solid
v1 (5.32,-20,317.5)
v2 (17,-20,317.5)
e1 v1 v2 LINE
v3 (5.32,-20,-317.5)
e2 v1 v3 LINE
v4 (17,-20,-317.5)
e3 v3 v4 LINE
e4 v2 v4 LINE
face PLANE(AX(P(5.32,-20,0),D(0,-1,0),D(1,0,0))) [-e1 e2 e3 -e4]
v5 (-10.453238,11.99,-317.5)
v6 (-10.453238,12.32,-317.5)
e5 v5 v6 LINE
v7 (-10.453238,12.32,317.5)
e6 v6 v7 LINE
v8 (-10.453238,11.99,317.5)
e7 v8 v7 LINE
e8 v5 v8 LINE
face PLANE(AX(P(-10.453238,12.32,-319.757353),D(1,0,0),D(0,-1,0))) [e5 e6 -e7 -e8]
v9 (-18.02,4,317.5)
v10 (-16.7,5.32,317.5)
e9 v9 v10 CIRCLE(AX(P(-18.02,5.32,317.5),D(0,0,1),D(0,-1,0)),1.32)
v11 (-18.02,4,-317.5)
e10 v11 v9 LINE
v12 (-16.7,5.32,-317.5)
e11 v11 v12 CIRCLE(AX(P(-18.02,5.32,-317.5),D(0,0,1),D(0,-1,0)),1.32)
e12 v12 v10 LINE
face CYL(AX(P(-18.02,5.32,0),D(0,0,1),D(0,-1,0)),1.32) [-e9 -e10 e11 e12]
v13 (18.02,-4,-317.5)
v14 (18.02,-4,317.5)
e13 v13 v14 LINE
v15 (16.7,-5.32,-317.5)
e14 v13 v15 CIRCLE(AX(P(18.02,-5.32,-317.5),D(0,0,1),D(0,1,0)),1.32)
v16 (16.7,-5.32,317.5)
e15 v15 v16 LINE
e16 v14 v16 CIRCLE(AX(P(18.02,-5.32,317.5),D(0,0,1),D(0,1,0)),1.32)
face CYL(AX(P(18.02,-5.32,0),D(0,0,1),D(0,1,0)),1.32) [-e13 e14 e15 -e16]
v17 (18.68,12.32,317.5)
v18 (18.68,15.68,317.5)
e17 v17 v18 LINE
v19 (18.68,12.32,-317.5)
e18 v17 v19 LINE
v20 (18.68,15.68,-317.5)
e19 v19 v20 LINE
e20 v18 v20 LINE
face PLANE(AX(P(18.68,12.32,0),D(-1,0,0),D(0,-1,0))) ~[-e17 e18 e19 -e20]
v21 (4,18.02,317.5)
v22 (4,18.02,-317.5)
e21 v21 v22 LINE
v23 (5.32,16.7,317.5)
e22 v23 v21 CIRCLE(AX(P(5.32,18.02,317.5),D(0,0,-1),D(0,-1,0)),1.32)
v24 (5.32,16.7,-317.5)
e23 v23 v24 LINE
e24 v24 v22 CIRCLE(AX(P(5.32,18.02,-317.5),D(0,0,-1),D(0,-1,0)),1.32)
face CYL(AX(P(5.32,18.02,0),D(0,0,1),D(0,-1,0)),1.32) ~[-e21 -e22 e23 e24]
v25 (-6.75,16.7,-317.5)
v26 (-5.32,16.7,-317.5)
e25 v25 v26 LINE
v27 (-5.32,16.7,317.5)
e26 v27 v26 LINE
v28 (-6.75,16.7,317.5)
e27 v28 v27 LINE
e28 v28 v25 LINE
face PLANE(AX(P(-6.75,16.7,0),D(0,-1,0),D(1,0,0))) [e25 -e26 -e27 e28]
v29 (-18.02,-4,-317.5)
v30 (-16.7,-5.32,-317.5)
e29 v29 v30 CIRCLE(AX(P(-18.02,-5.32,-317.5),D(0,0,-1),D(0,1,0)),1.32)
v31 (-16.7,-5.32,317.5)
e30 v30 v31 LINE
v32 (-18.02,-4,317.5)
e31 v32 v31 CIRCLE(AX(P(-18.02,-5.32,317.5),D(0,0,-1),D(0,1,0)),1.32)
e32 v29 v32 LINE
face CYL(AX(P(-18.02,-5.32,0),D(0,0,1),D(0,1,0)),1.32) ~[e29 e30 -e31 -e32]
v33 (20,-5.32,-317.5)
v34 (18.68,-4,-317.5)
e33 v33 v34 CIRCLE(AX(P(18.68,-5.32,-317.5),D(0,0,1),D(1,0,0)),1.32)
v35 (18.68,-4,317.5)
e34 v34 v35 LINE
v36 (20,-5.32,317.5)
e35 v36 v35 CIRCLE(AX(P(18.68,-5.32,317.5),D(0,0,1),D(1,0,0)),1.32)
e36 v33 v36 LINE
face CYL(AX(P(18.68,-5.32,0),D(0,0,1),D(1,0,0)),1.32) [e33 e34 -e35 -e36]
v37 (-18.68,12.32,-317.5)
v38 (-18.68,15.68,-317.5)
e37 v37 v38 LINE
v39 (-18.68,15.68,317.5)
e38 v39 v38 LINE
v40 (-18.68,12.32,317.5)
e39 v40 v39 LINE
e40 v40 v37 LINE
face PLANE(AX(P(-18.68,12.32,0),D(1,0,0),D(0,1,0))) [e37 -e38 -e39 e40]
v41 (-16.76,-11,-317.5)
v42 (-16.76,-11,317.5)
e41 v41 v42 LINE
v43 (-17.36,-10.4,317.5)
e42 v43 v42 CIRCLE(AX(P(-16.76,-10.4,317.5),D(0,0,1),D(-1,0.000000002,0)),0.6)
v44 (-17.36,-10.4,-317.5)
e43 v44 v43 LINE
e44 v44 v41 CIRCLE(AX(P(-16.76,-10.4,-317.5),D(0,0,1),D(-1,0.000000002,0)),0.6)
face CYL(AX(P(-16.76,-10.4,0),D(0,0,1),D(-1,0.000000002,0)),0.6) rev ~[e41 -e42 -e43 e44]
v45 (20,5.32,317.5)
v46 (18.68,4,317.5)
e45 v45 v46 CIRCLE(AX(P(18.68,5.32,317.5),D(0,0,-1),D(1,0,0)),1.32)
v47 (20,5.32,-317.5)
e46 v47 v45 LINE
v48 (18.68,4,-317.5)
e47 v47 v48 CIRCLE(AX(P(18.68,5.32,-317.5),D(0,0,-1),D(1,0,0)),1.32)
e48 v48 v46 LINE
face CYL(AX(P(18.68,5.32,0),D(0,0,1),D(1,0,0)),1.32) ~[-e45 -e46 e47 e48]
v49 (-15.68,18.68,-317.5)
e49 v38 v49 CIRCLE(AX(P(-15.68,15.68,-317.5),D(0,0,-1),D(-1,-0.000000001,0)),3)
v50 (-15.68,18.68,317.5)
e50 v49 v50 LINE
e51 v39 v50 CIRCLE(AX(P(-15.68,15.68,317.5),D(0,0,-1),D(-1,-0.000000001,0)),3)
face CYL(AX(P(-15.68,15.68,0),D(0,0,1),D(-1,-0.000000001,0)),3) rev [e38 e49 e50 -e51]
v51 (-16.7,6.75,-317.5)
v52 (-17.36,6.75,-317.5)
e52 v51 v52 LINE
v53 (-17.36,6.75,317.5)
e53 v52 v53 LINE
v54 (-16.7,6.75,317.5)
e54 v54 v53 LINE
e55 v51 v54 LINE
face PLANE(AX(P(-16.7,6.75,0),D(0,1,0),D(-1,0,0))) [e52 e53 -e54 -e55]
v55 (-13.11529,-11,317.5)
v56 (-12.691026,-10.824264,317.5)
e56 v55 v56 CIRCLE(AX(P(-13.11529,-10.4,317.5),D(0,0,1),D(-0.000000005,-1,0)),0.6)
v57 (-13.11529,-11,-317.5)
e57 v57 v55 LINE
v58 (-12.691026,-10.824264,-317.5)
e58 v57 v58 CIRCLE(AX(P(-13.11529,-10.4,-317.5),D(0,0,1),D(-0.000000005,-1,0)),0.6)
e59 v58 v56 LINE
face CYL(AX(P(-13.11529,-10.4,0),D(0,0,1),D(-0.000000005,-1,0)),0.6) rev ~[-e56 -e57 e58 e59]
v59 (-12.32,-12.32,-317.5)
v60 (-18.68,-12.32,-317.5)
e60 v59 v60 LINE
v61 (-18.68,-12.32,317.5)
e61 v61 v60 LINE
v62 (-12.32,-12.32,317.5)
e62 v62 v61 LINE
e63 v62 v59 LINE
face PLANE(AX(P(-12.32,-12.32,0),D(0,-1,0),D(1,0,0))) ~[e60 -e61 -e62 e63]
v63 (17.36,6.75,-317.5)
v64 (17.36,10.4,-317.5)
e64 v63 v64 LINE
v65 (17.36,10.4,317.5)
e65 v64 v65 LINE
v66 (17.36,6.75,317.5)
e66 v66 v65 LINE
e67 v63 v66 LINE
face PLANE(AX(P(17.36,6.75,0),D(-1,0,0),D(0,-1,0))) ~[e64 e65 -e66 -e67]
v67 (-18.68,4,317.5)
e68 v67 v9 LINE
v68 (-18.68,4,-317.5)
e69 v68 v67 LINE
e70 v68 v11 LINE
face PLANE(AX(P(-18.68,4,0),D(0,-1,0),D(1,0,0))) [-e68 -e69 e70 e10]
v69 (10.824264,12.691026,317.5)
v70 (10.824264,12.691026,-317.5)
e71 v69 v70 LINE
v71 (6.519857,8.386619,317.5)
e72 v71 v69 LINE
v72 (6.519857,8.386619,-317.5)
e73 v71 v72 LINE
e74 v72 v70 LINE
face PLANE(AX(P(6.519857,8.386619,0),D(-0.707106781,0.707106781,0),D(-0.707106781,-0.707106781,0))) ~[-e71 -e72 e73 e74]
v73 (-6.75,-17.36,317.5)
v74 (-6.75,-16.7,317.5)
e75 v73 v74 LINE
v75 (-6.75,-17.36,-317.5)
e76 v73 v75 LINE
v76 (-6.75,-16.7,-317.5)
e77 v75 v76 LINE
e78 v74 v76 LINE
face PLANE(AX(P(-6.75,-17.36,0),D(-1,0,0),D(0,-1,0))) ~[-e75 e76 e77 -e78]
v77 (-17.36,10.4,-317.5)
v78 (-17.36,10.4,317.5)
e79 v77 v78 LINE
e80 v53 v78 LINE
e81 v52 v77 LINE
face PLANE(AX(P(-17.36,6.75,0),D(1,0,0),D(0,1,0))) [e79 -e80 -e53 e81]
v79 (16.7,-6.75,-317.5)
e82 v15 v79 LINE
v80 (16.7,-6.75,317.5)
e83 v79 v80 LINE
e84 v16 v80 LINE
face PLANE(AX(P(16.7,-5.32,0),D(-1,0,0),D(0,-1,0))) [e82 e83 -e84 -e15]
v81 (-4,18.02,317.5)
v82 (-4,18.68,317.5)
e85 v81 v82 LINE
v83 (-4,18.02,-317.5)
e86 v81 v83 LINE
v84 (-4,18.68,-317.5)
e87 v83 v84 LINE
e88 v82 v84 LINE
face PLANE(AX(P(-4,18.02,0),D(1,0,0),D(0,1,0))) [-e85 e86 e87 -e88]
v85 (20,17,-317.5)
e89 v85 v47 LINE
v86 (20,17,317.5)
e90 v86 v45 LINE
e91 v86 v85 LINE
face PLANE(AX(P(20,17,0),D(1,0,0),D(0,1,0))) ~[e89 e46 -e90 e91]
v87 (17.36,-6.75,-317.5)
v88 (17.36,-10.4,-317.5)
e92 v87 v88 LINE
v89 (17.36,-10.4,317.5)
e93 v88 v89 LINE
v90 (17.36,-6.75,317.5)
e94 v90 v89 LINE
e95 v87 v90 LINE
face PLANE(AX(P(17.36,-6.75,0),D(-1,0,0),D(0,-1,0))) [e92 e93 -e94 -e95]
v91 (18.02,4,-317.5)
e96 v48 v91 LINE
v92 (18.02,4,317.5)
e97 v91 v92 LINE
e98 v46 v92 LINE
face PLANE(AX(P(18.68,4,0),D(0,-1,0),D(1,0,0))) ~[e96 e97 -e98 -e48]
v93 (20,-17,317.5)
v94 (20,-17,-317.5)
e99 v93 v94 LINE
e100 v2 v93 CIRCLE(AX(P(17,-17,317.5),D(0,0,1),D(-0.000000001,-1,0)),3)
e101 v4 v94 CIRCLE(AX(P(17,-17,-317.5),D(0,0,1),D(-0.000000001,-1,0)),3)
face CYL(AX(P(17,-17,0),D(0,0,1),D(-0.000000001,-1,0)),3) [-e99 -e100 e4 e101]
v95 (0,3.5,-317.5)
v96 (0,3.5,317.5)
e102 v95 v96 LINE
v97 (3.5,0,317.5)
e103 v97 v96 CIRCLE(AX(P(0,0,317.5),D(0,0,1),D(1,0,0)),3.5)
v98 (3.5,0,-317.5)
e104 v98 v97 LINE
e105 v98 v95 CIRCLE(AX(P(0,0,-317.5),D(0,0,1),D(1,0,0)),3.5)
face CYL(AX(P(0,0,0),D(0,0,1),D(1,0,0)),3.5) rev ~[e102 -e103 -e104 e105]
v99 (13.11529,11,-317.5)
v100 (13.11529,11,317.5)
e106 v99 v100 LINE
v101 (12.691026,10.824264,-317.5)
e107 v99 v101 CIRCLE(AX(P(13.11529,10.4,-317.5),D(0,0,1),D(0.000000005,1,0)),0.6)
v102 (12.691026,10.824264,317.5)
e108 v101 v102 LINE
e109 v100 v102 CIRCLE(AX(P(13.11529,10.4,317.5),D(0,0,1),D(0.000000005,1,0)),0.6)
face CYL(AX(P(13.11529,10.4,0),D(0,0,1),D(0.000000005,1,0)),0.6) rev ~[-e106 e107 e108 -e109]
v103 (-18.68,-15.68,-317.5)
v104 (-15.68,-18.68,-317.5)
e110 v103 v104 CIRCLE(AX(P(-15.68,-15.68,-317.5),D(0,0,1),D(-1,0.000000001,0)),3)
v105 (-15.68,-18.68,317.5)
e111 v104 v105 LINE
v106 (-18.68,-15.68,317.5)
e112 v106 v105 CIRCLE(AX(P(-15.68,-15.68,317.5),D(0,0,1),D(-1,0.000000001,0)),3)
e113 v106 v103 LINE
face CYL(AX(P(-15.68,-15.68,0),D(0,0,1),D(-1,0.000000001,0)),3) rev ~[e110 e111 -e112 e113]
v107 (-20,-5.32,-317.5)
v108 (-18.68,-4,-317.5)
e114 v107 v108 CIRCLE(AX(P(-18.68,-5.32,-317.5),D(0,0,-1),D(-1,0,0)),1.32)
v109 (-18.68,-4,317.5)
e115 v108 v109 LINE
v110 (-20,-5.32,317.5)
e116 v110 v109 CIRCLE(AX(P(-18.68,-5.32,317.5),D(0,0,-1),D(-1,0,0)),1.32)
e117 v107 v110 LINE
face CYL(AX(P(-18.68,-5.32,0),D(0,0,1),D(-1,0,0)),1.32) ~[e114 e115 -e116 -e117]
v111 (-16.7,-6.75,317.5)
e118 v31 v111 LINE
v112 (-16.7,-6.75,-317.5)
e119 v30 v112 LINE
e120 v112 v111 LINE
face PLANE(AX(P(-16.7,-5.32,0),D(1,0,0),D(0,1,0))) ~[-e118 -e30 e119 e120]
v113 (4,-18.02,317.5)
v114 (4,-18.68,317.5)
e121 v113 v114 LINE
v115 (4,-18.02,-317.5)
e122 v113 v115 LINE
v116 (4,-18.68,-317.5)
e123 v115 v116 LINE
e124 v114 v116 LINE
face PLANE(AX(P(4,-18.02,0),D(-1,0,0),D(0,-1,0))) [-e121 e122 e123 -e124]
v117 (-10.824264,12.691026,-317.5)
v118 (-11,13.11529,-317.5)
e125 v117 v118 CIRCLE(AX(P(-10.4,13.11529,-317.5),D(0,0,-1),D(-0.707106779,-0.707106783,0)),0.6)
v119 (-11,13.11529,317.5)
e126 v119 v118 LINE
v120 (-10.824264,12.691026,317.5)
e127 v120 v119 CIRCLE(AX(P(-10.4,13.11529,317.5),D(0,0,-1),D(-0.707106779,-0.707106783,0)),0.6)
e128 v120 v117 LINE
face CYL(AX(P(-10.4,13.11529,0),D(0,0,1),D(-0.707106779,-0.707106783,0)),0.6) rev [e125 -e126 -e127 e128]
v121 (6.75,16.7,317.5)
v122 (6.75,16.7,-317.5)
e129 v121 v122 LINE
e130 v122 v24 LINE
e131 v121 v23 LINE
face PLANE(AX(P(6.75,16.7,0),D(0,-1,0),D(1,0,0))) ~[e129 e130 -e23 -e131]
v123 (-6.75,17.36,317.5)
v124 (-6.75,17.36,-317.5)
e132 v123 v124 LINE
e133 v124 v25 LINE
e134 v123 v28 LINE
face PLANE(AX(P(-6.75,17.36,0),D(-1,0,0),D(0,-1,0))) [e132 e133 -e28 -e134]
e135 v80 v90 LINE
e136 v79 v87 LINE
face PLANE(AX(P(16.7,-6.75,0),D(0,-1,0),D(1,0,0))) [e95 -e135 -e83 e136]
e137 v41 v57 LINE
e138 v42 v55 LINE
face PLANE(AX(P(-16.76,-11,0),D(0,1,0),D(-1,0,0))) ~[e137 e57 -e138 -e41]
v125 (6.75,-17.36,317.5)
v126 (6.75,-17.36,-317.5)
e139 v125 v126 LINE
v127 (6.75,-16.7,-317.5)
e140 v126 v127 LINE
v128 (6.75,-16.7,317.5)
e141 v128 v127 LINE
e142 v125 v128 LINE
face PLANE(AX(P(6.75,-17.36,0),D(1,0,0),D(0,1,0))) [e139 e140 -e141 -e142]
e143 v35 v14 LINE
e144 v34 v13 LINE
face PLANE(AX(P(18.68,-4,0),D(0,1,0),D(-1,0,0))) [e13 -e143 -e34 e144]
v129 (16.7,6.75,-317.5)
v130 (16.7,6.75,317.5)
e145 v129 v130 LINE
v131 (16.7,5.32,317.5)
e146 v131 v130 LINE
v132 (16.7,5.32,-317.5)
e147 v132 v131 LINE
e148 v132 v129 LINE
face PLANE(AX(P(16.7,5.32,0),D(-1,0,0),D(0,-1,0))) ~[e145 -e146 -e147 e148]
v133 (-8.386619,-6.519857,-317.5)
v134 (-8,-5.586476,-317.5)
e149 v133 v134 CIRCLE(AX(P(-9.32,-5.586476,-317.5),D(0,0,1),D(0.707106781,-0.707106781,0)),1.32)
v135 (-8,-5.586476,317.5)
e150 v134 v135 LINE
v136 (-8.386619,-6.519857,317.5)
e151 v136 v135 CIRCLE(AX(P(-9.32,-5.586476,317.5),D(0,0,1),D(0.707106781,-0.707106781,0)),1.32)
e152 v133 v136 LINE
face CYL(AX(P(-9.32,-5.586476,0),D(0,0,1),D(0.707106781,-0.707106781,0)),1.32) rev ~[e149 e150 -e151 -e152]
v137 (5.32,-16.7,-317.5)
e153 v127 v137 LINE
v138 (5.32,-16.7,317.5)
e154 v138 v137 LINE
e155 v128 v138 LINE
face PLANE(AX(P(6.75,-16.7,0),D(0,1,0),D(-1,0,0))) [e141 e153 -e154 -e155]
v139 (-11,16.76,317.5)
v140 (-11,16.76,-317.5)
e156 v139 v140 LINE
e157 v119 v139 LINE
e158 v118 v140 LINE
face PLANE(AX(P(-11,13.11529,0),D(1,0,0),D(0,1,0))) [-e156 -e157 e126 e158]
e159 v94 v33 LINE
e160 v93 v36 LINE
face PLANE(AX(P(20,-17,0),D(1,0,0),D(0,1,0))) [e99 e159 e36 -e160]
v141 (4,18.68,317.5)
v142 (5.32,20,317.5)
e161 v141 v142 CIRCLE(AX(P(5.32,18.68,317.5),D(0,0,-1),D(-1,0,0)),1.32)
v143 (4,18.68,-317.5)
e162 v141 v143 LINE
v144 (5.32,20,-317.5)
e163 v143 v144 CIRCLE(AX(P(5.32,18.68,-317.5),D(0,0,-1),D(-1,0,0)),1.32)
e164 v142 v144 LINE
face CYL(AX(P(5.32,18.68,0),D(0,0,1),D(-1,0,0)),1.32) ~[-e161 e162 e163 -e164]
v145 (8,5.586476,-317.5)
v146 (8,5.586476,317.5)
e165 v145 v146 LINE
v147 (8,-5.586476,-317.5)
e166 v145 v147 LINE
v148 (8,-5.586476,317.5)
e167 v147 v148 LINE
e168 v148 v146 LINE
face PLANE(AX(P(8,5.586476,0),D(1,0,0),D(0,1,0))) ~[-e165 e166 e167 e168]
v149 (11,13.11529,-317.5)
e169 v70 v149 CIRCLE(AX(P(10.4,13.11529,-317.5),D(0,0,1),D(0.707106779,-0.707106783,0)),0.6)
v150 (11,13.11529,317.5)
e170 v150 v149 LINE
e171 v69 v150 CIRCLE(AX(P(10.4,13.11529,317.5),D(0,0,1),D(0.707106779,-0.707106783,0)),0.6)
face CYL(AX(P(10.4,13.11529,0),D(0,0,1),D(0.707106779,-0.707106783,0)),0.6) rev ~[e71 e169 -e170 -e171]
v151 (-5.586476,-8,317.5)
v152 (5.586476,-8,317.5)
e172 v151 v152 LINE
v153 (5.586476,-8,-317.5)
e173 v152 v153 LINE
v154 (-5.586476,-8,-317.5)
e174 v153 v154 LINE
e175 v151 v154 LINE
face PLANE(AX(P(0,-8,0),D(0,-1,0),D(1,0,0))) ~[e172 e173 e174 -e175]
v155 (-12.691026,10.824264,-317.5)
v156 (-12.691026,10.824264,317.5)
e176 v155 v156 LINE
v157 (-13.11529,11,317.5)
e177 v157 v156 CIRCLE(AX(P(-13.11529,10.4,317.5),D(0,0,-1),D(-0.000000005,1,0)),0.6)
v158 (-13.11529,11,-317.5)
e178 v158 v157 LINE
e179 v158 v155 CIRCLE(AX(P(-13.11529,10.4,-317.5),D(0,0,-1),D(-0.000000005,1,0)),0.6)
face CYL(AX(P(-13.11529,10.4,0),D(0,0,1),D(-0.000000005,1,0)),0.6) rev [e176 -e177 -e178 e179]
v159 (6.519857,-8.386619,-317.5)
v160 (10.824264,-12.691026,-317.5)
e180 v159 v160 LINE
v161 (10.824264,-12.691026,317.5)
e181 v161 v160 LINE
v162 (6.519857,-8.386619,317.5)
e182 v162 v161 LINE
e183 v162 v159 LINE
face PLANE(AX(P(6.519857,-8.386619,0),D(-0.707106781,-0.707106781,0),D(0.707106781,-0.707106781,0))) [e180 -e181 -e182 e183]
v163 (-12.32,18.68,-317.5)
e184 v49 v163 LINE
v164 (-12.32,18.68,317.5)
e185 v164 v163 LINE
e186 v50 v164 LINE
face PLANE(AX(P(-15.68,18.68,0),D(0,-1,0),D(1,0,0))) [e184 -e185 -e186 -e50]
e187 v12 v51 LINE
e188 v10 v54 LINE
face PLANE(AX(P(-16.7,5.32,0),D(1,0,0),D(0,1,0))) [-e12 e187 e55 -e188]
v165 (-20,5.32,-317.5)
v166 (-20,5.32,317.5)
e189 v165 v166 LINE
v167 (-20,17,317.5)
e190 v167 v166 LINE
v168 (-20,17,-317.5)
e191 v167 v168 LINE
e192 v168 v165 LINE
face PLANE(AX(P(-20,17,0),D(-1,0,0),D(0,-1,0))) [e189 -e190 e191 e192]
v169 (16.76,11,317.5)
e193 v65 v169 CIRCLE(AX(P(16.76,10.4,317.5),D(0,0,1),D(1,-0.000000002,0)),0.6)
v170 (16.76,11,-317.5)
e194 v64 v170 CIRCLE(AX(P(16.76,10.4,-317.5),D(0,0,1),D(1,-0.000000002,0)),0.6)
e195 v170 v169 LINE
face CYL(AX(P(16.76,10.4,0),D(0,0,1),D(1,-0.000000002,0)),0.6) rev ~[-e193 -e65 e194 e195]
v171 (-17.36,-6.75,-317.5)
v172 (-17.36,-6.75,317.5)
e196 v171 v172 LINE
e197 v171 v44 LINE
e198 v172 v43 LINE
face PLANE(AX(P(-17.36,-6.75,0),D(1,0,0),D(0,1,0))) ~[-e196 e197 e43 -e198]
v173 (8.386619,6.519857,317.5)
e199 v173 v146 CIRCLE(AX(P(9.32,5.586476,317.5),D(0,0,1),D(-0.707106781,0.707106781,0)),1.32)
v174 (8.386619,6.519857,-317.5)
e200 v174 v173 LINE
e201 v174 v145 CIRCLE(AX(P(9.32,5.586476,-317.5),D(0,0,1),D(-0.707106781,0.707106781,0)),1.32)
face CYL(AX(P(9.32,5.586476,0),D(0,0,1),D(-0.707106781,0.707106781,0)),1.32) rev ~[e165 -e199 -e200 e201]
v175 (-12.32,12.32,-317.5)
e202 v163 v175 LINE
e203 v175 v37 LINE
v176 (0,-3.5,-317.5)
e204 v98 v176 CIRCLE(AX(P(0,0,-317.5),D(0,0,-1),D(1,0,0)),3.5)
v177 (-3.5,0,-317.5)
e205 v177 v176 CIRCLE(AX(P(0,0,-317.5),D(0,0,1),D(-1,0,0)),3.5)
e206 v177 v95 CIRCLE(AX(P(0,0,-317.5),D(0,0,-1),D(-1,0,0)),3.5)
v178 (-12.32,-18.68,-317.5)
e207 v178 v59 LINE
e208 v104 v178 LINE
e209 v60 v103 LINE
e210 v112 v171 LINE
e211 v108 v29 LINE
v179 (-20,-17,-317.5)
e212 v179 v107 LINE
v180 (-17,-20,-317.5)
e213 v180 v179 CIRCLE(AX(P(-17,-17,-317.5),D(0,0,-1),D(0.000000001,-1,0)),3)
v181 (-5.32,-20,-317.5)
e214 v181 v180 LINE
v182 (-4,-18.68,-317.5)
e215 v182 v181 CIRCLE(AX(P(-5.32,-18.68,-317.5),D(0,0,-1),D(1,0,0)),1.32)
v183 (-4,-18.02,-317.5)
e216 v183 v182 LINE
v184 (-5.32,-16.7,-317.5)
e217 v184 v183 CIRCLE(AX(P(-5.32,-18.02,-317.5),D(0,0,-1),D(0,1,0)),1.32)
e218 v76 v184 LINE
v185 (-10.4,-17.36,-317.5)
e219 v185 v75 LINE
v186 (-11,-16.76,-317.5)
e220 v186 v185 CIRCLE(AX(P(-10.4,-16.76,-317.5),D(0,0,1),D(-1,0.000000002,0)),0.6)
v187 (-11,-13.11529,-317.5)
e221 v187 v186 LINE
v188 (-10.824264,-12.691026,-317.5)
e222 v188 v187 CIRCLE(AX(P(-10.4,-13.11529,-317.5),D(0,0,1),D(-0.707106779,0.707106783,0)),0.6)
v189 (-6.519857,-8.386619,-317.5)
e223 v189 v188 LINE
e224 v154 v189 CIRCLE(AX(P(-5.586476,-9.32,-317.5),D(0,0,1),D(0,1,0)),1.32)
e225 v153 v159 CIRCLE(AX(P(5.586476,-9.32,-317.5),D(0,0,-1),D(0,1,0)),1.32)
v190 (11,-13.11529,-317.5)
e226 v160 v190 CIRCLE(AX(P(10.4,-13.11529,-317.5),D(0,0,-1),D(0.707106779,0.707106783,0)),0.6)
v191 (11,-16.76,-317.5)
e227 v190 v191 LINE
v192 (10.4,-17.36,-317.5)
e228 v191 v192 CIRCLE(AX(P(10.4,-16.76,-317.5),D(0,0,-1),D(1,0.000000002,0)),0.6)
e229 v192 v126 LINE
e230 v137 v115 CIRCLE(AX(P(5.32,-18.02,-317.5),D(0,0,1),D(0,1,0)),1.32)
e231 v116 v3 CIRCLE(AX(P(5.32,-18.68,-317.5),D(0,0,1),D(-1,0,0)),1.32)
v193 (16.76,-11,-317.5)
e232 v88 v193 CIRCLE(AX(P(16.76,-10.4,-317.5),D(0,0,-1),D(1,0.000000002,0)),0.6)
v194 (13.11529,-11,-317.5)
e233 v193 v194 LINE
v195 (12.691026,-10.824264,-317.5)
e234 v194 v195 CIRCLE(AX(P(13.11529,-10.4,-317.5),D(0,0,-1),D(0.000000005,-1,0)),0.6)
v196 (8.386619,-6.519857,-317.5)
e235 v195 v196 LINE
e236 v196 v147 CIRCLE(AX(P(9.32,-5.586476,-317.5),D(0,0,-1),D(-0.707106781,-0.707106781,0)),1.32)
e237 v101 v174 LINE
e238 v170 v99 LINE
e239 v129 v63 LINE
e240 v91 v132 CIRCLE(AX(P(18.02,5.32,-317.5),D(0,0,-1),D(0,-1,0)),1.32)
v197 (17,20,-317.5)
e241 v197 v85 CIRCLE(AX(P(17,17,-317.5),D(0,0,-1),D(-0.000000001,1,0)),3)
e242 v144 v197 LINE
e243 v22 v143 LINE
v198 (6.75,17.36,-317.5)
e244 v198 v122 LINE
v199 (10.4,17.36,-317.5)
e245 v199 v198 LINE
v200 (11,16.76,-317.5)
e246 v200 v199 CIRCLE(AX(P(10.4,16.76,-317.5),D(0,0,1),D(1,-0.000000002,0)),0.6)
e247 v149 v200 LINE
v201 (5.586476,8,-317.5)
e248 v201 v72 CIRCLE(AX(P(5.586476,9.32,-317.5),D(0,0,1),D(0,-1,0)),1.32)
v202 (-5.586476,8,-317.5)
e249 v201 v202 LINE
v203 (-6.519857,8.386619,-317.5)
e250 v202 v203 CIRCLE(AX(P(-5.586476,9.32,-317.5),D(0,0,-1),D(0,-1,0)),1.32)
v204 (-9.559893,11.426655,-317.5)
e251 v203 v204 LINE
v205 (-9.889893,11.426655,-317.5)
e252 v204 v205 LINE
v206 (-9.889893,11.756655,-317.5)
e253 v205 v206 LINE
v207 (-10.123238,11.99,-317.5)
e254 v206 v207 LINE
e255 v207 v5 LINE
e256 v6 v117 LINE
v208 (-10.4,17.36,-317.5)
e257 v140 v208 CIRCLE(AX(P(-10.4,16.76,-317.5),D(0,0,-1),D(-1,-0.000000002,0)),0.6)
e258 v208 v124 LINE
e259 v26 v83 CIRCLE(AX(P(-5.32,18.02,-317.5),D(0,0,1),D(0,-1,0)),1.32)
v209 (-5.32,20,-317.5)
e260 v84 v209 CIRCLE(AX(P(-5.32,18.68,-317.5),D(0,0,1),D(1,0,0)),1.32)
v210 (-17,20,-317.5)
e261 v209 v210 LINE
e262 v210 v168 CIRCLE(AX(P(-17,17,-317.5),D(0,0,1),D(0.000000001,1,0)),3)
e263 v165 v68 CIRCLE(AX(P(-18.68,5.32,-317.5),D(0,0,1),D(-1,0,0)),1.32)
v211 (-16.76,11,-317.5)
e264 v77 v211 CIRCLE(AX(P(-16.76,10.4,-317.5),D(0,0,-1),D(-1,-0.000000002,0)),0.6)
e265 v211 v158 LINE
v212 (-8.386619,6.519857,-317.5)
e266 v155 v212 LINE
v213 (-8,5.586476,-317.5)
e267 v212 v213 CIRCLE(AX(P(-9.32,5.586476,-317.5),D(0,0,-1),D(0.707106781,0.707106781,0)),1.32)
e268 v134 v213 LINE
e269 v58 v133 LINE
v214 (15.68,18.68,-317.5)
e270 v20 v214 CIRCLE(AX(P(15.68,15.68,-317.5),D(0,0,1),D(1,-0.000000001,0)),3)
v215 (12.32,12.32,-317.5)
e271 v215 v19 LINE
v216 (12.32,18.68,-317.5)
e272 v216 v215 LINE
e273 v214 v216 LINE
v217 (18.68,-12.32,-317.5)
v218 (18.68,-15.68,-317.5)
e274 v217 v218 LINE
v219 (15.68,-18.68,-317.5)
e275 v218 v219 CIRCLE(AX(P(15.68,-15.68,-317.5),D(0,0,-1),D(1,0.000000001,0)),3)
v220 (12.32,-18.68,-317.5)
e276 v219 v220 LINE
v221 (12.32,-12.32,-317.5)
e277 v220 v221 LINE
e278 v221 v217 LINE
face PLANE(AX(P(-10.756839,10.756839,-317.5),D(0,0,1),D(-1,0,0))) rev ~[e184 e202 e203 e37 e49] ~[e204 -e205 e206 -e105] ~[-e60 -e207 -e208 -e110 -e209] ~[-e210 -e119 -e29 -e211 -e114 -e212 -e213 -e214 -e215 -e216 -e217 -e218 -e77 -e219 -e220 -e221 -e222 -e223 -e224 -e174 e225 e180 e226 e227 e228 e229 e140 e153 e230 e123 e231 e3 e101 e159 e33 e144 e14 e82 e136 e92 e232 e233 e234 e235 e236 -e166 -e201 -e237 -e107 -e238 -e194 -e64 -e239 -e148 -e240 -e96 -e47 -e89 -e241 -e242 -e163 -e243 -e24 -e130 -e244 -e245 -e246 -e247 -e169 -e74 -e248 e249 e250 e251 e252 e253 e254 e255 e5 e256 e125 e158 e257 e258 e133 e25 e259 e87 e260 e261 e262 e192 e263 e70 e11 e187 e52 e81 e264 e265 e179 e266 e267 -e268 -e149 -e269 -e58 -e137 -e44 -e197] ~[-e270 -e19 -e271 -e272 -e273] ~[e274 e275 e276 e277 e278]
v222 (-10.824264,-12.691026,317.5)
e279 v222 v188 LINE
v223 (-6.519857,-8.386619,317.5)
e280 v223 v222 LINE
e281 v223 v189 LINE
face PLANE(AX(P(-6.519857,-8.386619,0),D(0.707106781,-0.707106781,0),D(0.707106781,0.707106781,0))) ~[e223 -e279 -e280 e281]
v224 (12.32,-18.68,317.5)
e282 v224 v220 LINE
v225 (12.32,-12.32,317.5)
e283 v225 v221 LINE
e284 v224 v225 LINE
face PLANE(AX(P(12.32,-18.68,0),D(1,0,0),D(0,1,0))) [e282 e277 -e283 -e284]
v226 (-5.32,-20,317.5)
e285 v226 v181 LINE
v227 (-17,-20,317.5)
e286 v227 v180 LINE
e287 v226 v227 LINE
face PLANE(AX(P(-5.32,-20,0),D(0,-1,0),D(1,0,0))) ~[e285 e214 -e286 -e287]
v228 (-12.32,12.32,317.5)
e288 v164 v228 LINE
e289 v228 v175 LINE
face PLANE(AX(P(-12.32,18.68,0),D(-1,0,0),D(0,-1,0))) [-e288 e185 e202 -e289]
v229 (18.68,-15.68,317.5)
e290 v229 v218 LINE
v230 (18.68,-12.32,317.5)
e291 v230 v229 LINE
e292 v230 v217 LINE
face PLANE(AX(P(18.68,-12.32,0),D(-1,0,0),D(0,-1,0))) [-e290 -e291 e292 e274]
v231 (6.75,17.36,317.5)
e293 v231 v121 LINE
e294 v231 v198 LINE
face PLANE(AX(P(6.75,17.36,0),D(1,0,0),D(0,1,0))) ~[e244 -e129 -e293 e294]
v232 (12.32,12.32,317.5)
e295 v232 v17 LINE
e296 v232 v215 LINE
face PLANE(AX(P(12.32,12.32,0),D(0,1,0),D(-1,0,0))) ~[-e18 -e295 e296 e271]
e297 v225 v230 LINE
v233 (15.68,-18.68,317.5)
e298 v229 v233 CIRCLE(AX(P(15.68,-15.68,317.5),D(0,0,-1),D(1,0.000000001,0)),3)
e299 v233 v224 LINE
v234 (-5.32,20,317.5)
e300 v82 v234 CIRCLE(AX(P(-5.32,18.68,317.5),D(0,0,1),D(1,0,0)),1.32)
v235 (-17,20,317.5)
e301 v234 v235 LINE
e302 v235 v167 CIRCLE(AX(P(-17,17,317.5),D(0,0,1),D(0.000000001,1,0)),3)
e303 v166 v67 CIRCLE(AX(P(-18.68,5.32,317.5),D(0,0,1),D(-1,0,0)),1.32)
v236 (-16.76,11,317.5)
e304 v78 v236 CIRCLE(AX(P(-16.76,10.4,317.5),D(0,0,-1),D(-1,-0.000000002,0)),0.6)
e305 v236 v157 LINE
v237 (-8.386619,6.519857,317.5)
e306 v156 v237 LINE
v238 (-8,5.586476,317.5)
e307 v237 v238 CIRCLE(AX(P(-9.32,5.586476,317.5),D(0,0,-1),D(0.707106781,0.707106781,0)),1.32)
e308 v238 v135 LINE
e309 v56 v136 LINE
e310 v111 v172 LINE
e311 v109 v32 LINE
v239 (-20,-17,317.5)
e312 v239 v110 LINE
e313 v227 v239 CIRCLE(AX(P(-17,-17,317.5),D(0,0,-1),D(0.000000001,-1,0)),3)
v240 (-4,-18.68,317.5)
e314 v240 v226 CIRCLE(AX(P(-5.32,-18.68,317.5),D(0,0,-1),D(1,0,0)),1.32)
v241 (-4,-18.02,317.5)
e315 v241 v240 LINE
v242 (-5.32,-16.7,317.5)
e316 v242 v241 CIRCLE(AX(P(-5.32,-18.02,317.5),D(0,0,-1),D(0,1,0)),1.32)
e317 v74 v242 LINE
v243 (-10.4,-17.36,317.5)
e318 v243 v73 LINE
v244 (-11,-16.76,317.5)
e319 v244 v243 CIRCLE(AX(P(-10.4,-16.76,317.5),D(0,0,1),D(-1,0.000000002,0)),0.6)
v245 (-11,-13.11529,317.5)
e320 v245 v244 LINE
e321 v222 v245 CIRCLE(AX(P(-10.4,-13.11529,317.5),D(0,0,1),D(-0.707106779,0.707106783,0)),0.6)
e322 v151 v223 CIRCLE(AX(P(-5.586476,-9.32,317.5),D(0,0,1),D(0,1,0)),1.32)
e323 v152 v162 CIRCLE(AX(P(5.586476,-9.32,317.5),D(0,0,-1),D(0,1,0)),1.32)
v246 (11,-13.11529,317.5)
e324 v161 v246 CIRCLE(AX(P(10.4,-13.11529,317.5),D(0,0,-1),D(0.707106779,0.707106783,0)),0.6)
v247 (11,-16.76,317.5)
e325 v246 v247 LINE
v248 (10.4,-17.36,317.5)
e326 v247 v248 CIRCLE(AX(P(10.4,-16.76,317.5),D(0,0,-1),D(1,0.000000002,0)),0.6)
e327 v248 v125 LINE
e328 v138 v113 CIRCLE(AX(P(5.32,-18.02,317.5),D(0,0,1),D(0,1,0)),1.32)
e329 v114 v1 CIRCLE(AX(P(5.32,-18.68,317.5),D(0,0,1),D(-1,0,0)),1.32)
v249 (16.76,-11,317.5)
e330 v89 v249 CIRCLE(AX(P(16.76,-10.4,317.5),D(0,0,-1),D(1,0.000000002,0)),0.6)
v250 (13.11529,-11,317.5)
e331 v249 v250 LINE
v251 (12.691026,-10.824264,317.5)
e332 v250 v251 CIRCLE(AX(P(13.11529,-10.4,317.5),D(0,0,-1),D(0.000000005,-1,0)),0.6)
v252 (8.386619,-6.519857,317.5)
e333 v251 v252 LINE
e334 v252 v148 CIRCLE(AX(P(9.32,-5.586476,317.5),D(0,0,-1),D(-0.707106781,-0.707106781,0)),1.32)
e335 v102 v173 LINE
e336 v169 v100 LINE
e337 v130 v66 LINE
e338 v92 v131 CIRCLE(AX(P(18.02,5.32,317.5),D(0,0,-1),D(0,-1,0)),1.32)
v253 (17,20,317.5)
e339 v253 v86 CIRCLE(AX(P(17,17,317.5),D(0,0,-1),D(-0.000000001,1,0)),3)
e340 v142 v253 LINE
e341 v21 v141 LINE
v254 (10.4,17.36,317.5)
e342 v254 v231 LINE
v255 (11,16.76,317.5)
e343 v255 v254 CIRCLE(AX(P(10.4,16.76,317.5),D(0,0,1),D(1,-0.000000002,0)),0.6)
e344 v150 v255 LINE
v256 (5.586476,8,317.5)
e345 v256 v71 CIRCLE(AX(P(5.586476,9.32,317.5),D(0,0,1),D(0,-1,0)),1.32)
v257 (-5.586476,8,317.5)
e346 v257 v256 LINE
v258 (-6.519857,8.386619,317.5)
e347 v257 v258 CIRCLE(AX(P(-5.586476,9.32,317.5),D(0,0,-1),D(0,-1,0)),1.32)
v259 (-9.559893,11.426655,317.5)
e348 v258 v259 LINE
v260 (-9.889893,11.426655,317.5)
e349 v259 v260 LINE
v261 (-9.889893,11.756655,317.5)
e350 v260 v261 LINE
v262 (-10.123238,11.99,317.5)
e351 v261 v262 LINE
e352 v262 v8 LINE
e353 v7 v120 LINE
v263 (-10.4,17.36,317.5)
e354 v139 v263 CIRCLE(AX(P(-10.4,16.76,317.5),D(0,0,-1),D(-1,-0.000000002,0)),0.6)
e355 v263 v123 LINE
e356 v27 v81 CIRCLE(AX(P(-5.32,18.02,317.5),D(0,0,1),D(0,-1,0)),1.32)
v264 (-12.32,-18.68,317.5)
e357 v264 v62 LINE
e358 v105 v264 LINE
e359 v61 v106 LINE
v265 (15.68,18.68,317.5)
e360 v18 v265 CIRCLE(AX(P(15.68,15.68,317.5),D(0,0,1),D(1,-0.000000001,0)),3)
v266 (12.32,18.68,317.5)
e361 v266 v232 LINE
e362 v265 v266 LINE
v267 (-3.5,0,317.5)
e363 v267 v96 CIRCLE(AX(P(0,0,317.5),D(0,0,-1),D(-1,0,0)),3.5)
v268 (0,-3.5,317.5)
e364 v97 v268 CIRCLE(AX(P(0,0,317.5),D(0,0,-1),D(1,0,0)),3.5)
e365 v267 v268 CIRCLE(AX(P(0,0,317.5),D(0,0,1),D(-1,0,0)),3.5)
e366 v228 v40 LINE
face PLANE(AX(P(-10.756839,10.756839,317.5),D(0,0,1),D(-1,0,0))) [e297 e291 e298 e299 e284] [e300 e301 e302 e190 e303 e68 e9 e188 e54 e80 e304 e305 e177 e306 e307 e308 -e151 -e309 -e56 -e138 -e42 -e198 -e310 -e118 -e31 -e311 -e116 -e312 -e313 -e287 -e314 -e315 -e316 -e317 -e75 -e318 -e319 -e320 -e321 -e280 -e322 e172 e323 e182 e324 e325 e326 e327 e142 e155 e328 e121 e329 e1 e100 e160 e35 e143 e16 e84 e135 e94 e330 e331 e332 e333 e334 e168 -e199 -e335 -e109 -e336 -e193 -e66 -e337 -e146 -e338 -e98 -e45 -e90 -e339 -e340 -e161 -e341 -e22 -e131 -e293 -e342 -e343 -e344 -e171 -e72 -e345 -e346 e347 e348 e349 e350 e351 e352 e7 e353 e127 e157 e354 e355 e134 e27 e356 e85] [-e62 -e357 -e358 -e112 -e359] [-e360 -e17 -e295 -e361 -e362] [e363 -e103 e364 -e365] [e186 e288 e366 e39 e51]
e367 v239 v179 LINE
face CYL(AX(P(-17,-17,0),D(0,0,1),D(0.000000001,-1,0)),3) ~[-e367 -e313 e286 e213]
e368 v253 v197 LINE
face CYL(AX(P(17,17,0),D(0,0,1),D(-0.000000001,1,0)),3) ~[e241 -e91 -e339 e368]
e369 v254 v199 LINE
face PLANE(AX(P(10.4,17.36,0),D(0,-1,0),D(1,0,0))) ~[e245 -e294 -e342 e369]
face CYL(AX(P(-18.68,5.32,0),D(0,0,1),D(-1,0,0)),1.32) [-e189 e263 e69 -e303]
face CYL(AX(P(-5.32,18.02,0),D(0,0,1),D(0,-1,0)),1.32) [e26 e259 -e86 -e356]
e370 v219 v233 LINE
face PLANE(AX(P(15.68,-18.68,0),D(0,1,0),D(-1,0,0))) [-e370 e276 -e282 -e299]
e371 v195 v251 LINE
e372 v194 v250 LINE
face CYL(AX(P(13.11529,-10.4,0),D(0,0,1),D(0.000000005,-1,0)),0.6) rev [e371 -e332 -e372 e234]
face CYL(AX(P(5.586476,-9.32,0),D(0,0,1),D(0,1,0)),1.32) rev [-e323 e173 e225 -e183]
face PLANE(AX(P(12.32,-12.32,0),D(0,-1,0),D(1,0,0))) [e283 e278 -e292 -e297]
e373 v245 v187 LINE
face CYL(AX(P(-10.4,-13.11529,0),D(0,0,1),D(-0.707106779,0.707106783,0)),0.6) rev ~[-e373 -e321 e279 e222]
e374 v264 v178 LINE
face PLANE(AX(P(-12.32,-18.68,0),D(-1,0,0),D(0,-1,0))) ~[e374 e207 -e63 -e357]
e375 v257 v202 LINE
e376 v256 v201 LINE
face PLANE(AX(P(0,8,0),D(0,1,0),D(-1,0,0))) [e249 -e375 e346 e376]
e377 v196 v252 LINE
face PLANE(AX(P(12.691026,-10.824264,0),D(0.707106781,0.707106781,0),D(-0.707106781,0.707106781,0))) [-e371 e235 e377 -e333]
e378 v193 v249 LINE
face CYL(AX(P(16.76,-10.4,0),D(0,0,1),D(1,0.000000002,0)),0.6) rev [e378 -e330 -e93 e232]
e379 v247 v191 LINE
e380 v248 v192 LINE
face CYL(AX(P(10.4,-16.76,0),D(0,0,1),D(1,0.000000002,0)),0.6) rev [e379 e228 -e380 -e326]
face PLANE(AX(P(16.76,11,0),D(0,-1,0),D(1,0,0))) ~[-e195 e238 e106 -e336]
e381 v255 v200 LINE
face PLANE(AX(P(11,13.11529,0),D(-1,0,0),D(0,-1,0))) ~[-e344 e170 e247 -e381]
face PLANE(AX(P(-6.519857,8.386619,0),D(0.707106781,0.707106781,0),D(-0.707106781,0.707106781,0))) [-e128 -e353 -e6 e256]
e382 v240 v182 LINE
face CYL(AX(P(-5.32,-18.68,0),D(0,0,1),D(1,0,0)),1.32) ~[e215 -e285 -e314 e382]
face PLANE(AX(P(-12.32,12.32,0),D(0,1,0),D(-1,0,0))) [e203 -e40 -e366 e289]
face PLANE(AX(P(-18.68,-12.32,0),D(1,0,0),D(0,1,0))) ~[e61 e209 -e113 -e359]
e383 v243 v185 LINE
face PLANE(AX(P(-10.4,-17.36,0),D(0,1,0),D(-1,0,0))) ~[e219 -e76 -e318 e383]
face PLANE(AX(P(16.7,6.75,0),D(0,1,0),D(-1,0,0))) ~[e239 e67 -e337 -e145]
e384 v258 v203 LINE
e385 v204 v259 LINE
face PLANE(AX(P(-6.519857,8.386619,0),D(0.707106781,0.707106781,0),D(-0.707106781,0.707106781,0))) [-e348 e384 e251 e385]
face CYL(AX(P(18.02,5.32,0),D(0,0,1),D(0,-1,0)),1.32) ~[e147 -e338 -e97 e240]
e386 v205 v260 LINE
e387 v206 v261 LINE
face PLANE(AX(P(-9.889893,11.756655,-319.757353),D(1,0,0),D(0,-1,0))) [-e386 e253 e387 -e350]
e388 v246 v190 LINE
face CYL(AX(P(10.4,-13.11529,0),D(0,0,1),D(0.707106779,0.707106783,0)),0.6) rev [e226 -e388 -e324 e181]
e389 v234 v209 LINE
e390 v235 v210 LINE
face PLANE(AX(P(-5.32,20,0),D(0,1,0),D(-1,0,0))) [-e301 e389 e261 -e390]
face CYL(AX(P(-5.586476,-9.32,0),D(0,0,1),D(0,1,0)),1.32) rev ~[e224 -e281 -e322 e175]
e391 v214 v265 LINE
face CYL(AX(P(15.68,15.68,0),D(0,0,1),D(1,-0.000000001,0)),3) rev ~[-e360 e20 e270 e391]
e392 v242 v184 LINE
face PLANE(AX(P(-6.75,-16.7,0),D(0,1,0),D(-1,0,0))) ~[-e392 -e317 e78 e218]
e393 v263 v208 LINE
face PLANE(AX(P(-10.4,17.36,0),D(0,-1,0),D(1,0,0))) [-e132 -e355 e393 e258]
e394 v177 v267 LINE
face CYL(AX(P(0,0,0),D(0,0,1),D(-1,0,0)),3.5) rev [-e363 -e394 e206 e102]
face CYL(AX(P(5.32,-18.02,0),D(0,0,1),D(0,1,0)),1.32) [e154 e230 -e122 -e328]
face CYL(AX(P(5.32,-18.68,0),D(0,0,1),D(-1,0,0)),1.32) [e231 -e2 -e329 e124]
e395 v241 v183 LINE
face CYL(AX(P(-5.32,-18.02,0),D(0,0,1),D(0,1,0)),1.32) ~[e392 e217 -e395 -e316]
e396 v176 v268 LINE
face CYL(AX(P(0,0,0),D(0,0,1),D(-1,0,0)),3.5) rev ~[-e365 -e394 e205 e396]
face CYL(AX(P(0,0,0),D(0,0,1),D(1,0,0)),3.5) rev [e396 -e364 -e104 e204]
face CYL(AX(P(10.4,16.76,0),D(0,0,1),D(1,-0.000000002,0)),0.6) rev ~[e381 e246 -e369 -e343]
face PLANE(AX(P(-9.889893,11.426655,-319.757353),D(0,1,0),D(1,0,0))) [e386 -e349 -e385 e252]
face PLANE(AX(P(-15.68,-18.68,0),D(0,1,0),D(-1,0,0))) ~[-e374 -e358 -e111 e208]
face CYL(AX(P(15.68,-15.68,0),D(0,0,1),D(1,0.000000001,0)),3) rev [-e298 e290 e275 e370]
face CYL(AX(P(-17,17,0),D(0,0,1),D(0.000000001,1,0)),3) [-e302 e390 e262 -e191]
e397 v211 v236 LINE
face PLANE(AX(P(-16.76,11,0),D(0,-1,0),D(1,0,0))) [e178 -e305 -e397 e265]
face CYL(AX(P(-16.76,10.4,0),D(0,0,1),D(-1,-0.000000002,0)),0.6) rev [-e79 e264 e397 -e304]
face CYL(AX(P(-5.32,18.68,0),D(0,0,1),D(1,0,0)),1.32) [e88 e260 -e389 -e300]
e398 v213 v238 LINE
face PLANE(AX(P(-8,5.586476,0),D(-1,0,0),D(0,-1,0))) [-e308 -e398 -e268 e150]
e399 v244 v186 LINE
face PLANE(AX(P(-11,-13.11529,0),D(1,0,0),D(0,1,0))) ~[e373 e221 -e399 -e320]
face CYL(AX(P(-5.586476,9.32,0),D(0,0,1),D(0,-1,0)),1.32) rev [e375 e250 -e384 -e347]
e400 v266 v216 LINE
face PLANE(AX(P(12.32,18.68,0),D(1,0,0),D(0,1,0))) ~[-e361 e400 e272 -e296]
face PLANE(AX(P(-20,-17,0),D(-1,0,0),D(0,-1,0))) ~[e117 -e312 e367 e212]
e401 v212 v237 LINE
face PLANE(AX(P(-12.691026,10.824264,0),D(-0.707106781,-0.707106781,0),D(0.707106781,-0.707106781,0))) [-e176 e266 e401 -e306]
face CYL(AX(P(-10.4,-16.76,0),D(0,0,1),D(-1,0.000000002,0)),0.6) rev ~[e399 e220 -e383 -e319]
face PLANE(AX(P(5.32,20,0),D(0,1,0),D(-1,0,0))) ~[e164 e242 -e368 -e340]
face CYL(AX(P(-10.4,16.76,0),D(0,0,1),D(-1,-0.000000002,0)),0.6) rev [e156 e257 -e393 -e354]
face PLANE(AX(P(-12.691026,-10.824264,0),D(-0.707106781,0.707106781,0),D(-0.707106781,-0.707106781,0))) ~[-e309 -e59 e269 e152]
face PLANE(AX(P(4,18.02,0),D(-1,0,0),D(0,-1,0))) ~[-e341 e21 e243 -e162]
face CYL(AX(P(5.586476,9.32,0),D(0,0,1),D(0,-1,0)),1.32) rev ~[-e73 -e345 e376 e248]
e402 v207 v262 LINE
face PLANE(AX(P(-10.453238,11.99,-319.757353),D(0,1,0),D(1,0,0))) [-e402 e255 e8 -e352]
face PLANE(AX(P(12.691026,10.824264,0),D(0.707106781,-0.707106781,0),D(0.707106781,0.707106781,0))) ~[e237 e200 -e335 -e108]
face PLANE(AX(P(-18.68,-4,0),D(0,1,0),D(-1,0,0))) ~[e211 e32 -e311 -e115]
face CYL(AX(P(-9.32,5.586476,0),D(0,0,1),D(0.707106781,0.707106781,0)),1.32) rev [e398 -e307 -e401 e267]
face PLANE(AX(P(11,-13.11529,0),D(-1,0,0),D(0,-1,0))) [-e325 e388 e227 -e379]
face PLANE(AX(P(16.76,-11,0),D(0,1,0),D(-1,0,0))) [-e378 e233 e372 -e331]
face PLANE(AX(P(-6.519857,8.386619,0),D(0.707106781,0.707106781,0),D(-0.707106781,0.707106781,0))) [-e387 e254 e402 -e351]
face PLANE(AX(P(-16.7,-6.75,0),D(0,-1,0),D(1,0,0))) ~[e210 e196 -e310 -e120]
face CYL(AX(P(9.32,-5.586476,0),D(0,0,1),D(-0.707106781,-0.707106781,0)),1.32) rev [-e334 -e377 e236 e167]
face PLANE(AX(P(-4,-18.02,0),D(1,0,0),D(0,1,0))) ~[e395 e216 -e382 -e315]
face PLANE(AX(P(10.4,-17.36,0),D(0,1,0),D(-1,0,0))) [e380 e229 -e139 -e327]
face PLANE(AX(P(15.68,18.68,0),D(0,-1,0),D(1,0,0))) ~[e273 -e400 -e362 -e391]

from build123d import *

# Parameters (mm, degrees)
BOSS_EXTRUDE1_DEPTH     = 317.5
CUT_EXTRUDE1_DEPTH      = 319.757352856
CUT_EXTRUDE1_DEPTH_BACK = 319.757352856


with BuildPart() as part:
    # Sketch4 → Boss-Extrude1 (new, symmetric)
    with BuildSketch(Plane.XY):
        with BuildLine():
            Line((20, -17), (20, -5.32))
            ThreePointArc((20, -5.32), (19.613380951, -4.386619049), (18.68, -4))
            Line((18.68, -4), (18.02, -4))
            ThreePointArc((18.02, -4), (17.086619049, -4.386619049), (16.7, -5.32))
            Line((16.7, -5.32), (16.7, -6.75))
            Line((16.7, -6.75), (17.36, -6.75))
            Line((17.36, -6.75), (17.36, -10.4))
            ThreePointArc((17.36, -10.4), (17.184264069, -10.824264069), (16.76, -11))
            Line((16.76, -11), (13.11529004, -11))
            ThreePointArc((13.11529004, -11), (12.88567998, -10.95432772), (12.691025971, -10.824264069))
            Line((12.691025971, -10.824264069), (8.386619049, -6.519857147))
            ThreePointArc((8.386619049, -6.519857147), (8.100479017, -6.091618326), (8, -5.586476195))
            Line((8, -5.586476195), (8, 0))
            Line((8, 0), (3.5, 0))
            ThreePointArc((3.5, 0), (2.474873734, -2.474873734), (0, -3.5))
            Line((0, -3.5), (0, -8))
            Line((0, -8), (5.586476195, -8))
            ThreePointArc((5.586476195, -8), (6.091618326, -8.100479017), (6.519857147, -8.386619049))
            Line((6.519857147, -8.386619049), (10.824264069, -12.691025971))
            ThreePointArc((10.824264069, -12.691025971), (10.95432772, -12.88567998), (11, -13.11529004))
            Line((11, -13.11529004), (11, -16.76))
            ThreePointArc((11, -16.76), (10.824264069, -17.184264069), (10.4, -17.36))
            Line((10.4, -17.36), (6.75, -17.36))
            Line((6.75, -17.36), (6.75, -16.7))
            Line((6.75, -16.7), (5.32, -16.7))
            ThreePointArc((5.32, -16.7), (4.386619049, -17.086619049), (4, -18.02))
            Line((4, -18.02), (4, -18.68))
            ThreePointArc((4, -18.68), (4.386619049, -19.613380951), (5.32, -20))
            Line((5.32, -20), (17, -20))
            ThreePointArc((17, -20), (19.121320344, -19.121320344), (20, -17))
        make_face()
        with BuildLine():
            Line((15.68, -18.68), (12.32, -18.68))
            Line((12.32, -18.68), (12.32, -12.32))
            Line((12.32, -12.32), (18.68, -12.32))
            Line((18.68, -12.32), (18.68, -15.68))
            ThreePointArc((18.68, -15.68), (17.801320344, -17.801320344), (15.68, -18.68))
        make_face(mode=Mode.SUBTRACT)
    extrude(amount=BOSS_EXTRUDE1_DEPTH, both=True)

    # Mirror1: part across plane


with BuildPart() as part_1:
    add(part.part)
    add(part.part.mirror(Plane(origin=(0, 0, 0), x_dir=(0, 0, 1), z_dir=(1, 0, 0))))

    # Mirror2: part across plane


with BuildPart() as part_2:
    add(part_1.part)
    add(part_1.part.mirror(Plane.ZX))

    # Sketch5 → Cut-Extrude1 (cut, two sides: drawn at the far end of the back side and taken through both)
    with BuildSketch(Plane.XY.offset(-CUT_EXTRUDE1_DEPTH_BACK)):
        Polygon((-10.453238098, 12.32), (-10.453238098, 11.99), (-10.123238098, 11.99), (-9.88989286, 11.756654762), (-9.88989286, 11.426654762), (-9.55989286, 11.426654762), (-9.55989286, 12.32), align=None)
    extrude(amount=CUT_EXTRUDE1_DEPTH + CUT_EXTRUDE1_DEPTH_BACK, mode=Mode.SUBTRACT)


solid = part_2.part
